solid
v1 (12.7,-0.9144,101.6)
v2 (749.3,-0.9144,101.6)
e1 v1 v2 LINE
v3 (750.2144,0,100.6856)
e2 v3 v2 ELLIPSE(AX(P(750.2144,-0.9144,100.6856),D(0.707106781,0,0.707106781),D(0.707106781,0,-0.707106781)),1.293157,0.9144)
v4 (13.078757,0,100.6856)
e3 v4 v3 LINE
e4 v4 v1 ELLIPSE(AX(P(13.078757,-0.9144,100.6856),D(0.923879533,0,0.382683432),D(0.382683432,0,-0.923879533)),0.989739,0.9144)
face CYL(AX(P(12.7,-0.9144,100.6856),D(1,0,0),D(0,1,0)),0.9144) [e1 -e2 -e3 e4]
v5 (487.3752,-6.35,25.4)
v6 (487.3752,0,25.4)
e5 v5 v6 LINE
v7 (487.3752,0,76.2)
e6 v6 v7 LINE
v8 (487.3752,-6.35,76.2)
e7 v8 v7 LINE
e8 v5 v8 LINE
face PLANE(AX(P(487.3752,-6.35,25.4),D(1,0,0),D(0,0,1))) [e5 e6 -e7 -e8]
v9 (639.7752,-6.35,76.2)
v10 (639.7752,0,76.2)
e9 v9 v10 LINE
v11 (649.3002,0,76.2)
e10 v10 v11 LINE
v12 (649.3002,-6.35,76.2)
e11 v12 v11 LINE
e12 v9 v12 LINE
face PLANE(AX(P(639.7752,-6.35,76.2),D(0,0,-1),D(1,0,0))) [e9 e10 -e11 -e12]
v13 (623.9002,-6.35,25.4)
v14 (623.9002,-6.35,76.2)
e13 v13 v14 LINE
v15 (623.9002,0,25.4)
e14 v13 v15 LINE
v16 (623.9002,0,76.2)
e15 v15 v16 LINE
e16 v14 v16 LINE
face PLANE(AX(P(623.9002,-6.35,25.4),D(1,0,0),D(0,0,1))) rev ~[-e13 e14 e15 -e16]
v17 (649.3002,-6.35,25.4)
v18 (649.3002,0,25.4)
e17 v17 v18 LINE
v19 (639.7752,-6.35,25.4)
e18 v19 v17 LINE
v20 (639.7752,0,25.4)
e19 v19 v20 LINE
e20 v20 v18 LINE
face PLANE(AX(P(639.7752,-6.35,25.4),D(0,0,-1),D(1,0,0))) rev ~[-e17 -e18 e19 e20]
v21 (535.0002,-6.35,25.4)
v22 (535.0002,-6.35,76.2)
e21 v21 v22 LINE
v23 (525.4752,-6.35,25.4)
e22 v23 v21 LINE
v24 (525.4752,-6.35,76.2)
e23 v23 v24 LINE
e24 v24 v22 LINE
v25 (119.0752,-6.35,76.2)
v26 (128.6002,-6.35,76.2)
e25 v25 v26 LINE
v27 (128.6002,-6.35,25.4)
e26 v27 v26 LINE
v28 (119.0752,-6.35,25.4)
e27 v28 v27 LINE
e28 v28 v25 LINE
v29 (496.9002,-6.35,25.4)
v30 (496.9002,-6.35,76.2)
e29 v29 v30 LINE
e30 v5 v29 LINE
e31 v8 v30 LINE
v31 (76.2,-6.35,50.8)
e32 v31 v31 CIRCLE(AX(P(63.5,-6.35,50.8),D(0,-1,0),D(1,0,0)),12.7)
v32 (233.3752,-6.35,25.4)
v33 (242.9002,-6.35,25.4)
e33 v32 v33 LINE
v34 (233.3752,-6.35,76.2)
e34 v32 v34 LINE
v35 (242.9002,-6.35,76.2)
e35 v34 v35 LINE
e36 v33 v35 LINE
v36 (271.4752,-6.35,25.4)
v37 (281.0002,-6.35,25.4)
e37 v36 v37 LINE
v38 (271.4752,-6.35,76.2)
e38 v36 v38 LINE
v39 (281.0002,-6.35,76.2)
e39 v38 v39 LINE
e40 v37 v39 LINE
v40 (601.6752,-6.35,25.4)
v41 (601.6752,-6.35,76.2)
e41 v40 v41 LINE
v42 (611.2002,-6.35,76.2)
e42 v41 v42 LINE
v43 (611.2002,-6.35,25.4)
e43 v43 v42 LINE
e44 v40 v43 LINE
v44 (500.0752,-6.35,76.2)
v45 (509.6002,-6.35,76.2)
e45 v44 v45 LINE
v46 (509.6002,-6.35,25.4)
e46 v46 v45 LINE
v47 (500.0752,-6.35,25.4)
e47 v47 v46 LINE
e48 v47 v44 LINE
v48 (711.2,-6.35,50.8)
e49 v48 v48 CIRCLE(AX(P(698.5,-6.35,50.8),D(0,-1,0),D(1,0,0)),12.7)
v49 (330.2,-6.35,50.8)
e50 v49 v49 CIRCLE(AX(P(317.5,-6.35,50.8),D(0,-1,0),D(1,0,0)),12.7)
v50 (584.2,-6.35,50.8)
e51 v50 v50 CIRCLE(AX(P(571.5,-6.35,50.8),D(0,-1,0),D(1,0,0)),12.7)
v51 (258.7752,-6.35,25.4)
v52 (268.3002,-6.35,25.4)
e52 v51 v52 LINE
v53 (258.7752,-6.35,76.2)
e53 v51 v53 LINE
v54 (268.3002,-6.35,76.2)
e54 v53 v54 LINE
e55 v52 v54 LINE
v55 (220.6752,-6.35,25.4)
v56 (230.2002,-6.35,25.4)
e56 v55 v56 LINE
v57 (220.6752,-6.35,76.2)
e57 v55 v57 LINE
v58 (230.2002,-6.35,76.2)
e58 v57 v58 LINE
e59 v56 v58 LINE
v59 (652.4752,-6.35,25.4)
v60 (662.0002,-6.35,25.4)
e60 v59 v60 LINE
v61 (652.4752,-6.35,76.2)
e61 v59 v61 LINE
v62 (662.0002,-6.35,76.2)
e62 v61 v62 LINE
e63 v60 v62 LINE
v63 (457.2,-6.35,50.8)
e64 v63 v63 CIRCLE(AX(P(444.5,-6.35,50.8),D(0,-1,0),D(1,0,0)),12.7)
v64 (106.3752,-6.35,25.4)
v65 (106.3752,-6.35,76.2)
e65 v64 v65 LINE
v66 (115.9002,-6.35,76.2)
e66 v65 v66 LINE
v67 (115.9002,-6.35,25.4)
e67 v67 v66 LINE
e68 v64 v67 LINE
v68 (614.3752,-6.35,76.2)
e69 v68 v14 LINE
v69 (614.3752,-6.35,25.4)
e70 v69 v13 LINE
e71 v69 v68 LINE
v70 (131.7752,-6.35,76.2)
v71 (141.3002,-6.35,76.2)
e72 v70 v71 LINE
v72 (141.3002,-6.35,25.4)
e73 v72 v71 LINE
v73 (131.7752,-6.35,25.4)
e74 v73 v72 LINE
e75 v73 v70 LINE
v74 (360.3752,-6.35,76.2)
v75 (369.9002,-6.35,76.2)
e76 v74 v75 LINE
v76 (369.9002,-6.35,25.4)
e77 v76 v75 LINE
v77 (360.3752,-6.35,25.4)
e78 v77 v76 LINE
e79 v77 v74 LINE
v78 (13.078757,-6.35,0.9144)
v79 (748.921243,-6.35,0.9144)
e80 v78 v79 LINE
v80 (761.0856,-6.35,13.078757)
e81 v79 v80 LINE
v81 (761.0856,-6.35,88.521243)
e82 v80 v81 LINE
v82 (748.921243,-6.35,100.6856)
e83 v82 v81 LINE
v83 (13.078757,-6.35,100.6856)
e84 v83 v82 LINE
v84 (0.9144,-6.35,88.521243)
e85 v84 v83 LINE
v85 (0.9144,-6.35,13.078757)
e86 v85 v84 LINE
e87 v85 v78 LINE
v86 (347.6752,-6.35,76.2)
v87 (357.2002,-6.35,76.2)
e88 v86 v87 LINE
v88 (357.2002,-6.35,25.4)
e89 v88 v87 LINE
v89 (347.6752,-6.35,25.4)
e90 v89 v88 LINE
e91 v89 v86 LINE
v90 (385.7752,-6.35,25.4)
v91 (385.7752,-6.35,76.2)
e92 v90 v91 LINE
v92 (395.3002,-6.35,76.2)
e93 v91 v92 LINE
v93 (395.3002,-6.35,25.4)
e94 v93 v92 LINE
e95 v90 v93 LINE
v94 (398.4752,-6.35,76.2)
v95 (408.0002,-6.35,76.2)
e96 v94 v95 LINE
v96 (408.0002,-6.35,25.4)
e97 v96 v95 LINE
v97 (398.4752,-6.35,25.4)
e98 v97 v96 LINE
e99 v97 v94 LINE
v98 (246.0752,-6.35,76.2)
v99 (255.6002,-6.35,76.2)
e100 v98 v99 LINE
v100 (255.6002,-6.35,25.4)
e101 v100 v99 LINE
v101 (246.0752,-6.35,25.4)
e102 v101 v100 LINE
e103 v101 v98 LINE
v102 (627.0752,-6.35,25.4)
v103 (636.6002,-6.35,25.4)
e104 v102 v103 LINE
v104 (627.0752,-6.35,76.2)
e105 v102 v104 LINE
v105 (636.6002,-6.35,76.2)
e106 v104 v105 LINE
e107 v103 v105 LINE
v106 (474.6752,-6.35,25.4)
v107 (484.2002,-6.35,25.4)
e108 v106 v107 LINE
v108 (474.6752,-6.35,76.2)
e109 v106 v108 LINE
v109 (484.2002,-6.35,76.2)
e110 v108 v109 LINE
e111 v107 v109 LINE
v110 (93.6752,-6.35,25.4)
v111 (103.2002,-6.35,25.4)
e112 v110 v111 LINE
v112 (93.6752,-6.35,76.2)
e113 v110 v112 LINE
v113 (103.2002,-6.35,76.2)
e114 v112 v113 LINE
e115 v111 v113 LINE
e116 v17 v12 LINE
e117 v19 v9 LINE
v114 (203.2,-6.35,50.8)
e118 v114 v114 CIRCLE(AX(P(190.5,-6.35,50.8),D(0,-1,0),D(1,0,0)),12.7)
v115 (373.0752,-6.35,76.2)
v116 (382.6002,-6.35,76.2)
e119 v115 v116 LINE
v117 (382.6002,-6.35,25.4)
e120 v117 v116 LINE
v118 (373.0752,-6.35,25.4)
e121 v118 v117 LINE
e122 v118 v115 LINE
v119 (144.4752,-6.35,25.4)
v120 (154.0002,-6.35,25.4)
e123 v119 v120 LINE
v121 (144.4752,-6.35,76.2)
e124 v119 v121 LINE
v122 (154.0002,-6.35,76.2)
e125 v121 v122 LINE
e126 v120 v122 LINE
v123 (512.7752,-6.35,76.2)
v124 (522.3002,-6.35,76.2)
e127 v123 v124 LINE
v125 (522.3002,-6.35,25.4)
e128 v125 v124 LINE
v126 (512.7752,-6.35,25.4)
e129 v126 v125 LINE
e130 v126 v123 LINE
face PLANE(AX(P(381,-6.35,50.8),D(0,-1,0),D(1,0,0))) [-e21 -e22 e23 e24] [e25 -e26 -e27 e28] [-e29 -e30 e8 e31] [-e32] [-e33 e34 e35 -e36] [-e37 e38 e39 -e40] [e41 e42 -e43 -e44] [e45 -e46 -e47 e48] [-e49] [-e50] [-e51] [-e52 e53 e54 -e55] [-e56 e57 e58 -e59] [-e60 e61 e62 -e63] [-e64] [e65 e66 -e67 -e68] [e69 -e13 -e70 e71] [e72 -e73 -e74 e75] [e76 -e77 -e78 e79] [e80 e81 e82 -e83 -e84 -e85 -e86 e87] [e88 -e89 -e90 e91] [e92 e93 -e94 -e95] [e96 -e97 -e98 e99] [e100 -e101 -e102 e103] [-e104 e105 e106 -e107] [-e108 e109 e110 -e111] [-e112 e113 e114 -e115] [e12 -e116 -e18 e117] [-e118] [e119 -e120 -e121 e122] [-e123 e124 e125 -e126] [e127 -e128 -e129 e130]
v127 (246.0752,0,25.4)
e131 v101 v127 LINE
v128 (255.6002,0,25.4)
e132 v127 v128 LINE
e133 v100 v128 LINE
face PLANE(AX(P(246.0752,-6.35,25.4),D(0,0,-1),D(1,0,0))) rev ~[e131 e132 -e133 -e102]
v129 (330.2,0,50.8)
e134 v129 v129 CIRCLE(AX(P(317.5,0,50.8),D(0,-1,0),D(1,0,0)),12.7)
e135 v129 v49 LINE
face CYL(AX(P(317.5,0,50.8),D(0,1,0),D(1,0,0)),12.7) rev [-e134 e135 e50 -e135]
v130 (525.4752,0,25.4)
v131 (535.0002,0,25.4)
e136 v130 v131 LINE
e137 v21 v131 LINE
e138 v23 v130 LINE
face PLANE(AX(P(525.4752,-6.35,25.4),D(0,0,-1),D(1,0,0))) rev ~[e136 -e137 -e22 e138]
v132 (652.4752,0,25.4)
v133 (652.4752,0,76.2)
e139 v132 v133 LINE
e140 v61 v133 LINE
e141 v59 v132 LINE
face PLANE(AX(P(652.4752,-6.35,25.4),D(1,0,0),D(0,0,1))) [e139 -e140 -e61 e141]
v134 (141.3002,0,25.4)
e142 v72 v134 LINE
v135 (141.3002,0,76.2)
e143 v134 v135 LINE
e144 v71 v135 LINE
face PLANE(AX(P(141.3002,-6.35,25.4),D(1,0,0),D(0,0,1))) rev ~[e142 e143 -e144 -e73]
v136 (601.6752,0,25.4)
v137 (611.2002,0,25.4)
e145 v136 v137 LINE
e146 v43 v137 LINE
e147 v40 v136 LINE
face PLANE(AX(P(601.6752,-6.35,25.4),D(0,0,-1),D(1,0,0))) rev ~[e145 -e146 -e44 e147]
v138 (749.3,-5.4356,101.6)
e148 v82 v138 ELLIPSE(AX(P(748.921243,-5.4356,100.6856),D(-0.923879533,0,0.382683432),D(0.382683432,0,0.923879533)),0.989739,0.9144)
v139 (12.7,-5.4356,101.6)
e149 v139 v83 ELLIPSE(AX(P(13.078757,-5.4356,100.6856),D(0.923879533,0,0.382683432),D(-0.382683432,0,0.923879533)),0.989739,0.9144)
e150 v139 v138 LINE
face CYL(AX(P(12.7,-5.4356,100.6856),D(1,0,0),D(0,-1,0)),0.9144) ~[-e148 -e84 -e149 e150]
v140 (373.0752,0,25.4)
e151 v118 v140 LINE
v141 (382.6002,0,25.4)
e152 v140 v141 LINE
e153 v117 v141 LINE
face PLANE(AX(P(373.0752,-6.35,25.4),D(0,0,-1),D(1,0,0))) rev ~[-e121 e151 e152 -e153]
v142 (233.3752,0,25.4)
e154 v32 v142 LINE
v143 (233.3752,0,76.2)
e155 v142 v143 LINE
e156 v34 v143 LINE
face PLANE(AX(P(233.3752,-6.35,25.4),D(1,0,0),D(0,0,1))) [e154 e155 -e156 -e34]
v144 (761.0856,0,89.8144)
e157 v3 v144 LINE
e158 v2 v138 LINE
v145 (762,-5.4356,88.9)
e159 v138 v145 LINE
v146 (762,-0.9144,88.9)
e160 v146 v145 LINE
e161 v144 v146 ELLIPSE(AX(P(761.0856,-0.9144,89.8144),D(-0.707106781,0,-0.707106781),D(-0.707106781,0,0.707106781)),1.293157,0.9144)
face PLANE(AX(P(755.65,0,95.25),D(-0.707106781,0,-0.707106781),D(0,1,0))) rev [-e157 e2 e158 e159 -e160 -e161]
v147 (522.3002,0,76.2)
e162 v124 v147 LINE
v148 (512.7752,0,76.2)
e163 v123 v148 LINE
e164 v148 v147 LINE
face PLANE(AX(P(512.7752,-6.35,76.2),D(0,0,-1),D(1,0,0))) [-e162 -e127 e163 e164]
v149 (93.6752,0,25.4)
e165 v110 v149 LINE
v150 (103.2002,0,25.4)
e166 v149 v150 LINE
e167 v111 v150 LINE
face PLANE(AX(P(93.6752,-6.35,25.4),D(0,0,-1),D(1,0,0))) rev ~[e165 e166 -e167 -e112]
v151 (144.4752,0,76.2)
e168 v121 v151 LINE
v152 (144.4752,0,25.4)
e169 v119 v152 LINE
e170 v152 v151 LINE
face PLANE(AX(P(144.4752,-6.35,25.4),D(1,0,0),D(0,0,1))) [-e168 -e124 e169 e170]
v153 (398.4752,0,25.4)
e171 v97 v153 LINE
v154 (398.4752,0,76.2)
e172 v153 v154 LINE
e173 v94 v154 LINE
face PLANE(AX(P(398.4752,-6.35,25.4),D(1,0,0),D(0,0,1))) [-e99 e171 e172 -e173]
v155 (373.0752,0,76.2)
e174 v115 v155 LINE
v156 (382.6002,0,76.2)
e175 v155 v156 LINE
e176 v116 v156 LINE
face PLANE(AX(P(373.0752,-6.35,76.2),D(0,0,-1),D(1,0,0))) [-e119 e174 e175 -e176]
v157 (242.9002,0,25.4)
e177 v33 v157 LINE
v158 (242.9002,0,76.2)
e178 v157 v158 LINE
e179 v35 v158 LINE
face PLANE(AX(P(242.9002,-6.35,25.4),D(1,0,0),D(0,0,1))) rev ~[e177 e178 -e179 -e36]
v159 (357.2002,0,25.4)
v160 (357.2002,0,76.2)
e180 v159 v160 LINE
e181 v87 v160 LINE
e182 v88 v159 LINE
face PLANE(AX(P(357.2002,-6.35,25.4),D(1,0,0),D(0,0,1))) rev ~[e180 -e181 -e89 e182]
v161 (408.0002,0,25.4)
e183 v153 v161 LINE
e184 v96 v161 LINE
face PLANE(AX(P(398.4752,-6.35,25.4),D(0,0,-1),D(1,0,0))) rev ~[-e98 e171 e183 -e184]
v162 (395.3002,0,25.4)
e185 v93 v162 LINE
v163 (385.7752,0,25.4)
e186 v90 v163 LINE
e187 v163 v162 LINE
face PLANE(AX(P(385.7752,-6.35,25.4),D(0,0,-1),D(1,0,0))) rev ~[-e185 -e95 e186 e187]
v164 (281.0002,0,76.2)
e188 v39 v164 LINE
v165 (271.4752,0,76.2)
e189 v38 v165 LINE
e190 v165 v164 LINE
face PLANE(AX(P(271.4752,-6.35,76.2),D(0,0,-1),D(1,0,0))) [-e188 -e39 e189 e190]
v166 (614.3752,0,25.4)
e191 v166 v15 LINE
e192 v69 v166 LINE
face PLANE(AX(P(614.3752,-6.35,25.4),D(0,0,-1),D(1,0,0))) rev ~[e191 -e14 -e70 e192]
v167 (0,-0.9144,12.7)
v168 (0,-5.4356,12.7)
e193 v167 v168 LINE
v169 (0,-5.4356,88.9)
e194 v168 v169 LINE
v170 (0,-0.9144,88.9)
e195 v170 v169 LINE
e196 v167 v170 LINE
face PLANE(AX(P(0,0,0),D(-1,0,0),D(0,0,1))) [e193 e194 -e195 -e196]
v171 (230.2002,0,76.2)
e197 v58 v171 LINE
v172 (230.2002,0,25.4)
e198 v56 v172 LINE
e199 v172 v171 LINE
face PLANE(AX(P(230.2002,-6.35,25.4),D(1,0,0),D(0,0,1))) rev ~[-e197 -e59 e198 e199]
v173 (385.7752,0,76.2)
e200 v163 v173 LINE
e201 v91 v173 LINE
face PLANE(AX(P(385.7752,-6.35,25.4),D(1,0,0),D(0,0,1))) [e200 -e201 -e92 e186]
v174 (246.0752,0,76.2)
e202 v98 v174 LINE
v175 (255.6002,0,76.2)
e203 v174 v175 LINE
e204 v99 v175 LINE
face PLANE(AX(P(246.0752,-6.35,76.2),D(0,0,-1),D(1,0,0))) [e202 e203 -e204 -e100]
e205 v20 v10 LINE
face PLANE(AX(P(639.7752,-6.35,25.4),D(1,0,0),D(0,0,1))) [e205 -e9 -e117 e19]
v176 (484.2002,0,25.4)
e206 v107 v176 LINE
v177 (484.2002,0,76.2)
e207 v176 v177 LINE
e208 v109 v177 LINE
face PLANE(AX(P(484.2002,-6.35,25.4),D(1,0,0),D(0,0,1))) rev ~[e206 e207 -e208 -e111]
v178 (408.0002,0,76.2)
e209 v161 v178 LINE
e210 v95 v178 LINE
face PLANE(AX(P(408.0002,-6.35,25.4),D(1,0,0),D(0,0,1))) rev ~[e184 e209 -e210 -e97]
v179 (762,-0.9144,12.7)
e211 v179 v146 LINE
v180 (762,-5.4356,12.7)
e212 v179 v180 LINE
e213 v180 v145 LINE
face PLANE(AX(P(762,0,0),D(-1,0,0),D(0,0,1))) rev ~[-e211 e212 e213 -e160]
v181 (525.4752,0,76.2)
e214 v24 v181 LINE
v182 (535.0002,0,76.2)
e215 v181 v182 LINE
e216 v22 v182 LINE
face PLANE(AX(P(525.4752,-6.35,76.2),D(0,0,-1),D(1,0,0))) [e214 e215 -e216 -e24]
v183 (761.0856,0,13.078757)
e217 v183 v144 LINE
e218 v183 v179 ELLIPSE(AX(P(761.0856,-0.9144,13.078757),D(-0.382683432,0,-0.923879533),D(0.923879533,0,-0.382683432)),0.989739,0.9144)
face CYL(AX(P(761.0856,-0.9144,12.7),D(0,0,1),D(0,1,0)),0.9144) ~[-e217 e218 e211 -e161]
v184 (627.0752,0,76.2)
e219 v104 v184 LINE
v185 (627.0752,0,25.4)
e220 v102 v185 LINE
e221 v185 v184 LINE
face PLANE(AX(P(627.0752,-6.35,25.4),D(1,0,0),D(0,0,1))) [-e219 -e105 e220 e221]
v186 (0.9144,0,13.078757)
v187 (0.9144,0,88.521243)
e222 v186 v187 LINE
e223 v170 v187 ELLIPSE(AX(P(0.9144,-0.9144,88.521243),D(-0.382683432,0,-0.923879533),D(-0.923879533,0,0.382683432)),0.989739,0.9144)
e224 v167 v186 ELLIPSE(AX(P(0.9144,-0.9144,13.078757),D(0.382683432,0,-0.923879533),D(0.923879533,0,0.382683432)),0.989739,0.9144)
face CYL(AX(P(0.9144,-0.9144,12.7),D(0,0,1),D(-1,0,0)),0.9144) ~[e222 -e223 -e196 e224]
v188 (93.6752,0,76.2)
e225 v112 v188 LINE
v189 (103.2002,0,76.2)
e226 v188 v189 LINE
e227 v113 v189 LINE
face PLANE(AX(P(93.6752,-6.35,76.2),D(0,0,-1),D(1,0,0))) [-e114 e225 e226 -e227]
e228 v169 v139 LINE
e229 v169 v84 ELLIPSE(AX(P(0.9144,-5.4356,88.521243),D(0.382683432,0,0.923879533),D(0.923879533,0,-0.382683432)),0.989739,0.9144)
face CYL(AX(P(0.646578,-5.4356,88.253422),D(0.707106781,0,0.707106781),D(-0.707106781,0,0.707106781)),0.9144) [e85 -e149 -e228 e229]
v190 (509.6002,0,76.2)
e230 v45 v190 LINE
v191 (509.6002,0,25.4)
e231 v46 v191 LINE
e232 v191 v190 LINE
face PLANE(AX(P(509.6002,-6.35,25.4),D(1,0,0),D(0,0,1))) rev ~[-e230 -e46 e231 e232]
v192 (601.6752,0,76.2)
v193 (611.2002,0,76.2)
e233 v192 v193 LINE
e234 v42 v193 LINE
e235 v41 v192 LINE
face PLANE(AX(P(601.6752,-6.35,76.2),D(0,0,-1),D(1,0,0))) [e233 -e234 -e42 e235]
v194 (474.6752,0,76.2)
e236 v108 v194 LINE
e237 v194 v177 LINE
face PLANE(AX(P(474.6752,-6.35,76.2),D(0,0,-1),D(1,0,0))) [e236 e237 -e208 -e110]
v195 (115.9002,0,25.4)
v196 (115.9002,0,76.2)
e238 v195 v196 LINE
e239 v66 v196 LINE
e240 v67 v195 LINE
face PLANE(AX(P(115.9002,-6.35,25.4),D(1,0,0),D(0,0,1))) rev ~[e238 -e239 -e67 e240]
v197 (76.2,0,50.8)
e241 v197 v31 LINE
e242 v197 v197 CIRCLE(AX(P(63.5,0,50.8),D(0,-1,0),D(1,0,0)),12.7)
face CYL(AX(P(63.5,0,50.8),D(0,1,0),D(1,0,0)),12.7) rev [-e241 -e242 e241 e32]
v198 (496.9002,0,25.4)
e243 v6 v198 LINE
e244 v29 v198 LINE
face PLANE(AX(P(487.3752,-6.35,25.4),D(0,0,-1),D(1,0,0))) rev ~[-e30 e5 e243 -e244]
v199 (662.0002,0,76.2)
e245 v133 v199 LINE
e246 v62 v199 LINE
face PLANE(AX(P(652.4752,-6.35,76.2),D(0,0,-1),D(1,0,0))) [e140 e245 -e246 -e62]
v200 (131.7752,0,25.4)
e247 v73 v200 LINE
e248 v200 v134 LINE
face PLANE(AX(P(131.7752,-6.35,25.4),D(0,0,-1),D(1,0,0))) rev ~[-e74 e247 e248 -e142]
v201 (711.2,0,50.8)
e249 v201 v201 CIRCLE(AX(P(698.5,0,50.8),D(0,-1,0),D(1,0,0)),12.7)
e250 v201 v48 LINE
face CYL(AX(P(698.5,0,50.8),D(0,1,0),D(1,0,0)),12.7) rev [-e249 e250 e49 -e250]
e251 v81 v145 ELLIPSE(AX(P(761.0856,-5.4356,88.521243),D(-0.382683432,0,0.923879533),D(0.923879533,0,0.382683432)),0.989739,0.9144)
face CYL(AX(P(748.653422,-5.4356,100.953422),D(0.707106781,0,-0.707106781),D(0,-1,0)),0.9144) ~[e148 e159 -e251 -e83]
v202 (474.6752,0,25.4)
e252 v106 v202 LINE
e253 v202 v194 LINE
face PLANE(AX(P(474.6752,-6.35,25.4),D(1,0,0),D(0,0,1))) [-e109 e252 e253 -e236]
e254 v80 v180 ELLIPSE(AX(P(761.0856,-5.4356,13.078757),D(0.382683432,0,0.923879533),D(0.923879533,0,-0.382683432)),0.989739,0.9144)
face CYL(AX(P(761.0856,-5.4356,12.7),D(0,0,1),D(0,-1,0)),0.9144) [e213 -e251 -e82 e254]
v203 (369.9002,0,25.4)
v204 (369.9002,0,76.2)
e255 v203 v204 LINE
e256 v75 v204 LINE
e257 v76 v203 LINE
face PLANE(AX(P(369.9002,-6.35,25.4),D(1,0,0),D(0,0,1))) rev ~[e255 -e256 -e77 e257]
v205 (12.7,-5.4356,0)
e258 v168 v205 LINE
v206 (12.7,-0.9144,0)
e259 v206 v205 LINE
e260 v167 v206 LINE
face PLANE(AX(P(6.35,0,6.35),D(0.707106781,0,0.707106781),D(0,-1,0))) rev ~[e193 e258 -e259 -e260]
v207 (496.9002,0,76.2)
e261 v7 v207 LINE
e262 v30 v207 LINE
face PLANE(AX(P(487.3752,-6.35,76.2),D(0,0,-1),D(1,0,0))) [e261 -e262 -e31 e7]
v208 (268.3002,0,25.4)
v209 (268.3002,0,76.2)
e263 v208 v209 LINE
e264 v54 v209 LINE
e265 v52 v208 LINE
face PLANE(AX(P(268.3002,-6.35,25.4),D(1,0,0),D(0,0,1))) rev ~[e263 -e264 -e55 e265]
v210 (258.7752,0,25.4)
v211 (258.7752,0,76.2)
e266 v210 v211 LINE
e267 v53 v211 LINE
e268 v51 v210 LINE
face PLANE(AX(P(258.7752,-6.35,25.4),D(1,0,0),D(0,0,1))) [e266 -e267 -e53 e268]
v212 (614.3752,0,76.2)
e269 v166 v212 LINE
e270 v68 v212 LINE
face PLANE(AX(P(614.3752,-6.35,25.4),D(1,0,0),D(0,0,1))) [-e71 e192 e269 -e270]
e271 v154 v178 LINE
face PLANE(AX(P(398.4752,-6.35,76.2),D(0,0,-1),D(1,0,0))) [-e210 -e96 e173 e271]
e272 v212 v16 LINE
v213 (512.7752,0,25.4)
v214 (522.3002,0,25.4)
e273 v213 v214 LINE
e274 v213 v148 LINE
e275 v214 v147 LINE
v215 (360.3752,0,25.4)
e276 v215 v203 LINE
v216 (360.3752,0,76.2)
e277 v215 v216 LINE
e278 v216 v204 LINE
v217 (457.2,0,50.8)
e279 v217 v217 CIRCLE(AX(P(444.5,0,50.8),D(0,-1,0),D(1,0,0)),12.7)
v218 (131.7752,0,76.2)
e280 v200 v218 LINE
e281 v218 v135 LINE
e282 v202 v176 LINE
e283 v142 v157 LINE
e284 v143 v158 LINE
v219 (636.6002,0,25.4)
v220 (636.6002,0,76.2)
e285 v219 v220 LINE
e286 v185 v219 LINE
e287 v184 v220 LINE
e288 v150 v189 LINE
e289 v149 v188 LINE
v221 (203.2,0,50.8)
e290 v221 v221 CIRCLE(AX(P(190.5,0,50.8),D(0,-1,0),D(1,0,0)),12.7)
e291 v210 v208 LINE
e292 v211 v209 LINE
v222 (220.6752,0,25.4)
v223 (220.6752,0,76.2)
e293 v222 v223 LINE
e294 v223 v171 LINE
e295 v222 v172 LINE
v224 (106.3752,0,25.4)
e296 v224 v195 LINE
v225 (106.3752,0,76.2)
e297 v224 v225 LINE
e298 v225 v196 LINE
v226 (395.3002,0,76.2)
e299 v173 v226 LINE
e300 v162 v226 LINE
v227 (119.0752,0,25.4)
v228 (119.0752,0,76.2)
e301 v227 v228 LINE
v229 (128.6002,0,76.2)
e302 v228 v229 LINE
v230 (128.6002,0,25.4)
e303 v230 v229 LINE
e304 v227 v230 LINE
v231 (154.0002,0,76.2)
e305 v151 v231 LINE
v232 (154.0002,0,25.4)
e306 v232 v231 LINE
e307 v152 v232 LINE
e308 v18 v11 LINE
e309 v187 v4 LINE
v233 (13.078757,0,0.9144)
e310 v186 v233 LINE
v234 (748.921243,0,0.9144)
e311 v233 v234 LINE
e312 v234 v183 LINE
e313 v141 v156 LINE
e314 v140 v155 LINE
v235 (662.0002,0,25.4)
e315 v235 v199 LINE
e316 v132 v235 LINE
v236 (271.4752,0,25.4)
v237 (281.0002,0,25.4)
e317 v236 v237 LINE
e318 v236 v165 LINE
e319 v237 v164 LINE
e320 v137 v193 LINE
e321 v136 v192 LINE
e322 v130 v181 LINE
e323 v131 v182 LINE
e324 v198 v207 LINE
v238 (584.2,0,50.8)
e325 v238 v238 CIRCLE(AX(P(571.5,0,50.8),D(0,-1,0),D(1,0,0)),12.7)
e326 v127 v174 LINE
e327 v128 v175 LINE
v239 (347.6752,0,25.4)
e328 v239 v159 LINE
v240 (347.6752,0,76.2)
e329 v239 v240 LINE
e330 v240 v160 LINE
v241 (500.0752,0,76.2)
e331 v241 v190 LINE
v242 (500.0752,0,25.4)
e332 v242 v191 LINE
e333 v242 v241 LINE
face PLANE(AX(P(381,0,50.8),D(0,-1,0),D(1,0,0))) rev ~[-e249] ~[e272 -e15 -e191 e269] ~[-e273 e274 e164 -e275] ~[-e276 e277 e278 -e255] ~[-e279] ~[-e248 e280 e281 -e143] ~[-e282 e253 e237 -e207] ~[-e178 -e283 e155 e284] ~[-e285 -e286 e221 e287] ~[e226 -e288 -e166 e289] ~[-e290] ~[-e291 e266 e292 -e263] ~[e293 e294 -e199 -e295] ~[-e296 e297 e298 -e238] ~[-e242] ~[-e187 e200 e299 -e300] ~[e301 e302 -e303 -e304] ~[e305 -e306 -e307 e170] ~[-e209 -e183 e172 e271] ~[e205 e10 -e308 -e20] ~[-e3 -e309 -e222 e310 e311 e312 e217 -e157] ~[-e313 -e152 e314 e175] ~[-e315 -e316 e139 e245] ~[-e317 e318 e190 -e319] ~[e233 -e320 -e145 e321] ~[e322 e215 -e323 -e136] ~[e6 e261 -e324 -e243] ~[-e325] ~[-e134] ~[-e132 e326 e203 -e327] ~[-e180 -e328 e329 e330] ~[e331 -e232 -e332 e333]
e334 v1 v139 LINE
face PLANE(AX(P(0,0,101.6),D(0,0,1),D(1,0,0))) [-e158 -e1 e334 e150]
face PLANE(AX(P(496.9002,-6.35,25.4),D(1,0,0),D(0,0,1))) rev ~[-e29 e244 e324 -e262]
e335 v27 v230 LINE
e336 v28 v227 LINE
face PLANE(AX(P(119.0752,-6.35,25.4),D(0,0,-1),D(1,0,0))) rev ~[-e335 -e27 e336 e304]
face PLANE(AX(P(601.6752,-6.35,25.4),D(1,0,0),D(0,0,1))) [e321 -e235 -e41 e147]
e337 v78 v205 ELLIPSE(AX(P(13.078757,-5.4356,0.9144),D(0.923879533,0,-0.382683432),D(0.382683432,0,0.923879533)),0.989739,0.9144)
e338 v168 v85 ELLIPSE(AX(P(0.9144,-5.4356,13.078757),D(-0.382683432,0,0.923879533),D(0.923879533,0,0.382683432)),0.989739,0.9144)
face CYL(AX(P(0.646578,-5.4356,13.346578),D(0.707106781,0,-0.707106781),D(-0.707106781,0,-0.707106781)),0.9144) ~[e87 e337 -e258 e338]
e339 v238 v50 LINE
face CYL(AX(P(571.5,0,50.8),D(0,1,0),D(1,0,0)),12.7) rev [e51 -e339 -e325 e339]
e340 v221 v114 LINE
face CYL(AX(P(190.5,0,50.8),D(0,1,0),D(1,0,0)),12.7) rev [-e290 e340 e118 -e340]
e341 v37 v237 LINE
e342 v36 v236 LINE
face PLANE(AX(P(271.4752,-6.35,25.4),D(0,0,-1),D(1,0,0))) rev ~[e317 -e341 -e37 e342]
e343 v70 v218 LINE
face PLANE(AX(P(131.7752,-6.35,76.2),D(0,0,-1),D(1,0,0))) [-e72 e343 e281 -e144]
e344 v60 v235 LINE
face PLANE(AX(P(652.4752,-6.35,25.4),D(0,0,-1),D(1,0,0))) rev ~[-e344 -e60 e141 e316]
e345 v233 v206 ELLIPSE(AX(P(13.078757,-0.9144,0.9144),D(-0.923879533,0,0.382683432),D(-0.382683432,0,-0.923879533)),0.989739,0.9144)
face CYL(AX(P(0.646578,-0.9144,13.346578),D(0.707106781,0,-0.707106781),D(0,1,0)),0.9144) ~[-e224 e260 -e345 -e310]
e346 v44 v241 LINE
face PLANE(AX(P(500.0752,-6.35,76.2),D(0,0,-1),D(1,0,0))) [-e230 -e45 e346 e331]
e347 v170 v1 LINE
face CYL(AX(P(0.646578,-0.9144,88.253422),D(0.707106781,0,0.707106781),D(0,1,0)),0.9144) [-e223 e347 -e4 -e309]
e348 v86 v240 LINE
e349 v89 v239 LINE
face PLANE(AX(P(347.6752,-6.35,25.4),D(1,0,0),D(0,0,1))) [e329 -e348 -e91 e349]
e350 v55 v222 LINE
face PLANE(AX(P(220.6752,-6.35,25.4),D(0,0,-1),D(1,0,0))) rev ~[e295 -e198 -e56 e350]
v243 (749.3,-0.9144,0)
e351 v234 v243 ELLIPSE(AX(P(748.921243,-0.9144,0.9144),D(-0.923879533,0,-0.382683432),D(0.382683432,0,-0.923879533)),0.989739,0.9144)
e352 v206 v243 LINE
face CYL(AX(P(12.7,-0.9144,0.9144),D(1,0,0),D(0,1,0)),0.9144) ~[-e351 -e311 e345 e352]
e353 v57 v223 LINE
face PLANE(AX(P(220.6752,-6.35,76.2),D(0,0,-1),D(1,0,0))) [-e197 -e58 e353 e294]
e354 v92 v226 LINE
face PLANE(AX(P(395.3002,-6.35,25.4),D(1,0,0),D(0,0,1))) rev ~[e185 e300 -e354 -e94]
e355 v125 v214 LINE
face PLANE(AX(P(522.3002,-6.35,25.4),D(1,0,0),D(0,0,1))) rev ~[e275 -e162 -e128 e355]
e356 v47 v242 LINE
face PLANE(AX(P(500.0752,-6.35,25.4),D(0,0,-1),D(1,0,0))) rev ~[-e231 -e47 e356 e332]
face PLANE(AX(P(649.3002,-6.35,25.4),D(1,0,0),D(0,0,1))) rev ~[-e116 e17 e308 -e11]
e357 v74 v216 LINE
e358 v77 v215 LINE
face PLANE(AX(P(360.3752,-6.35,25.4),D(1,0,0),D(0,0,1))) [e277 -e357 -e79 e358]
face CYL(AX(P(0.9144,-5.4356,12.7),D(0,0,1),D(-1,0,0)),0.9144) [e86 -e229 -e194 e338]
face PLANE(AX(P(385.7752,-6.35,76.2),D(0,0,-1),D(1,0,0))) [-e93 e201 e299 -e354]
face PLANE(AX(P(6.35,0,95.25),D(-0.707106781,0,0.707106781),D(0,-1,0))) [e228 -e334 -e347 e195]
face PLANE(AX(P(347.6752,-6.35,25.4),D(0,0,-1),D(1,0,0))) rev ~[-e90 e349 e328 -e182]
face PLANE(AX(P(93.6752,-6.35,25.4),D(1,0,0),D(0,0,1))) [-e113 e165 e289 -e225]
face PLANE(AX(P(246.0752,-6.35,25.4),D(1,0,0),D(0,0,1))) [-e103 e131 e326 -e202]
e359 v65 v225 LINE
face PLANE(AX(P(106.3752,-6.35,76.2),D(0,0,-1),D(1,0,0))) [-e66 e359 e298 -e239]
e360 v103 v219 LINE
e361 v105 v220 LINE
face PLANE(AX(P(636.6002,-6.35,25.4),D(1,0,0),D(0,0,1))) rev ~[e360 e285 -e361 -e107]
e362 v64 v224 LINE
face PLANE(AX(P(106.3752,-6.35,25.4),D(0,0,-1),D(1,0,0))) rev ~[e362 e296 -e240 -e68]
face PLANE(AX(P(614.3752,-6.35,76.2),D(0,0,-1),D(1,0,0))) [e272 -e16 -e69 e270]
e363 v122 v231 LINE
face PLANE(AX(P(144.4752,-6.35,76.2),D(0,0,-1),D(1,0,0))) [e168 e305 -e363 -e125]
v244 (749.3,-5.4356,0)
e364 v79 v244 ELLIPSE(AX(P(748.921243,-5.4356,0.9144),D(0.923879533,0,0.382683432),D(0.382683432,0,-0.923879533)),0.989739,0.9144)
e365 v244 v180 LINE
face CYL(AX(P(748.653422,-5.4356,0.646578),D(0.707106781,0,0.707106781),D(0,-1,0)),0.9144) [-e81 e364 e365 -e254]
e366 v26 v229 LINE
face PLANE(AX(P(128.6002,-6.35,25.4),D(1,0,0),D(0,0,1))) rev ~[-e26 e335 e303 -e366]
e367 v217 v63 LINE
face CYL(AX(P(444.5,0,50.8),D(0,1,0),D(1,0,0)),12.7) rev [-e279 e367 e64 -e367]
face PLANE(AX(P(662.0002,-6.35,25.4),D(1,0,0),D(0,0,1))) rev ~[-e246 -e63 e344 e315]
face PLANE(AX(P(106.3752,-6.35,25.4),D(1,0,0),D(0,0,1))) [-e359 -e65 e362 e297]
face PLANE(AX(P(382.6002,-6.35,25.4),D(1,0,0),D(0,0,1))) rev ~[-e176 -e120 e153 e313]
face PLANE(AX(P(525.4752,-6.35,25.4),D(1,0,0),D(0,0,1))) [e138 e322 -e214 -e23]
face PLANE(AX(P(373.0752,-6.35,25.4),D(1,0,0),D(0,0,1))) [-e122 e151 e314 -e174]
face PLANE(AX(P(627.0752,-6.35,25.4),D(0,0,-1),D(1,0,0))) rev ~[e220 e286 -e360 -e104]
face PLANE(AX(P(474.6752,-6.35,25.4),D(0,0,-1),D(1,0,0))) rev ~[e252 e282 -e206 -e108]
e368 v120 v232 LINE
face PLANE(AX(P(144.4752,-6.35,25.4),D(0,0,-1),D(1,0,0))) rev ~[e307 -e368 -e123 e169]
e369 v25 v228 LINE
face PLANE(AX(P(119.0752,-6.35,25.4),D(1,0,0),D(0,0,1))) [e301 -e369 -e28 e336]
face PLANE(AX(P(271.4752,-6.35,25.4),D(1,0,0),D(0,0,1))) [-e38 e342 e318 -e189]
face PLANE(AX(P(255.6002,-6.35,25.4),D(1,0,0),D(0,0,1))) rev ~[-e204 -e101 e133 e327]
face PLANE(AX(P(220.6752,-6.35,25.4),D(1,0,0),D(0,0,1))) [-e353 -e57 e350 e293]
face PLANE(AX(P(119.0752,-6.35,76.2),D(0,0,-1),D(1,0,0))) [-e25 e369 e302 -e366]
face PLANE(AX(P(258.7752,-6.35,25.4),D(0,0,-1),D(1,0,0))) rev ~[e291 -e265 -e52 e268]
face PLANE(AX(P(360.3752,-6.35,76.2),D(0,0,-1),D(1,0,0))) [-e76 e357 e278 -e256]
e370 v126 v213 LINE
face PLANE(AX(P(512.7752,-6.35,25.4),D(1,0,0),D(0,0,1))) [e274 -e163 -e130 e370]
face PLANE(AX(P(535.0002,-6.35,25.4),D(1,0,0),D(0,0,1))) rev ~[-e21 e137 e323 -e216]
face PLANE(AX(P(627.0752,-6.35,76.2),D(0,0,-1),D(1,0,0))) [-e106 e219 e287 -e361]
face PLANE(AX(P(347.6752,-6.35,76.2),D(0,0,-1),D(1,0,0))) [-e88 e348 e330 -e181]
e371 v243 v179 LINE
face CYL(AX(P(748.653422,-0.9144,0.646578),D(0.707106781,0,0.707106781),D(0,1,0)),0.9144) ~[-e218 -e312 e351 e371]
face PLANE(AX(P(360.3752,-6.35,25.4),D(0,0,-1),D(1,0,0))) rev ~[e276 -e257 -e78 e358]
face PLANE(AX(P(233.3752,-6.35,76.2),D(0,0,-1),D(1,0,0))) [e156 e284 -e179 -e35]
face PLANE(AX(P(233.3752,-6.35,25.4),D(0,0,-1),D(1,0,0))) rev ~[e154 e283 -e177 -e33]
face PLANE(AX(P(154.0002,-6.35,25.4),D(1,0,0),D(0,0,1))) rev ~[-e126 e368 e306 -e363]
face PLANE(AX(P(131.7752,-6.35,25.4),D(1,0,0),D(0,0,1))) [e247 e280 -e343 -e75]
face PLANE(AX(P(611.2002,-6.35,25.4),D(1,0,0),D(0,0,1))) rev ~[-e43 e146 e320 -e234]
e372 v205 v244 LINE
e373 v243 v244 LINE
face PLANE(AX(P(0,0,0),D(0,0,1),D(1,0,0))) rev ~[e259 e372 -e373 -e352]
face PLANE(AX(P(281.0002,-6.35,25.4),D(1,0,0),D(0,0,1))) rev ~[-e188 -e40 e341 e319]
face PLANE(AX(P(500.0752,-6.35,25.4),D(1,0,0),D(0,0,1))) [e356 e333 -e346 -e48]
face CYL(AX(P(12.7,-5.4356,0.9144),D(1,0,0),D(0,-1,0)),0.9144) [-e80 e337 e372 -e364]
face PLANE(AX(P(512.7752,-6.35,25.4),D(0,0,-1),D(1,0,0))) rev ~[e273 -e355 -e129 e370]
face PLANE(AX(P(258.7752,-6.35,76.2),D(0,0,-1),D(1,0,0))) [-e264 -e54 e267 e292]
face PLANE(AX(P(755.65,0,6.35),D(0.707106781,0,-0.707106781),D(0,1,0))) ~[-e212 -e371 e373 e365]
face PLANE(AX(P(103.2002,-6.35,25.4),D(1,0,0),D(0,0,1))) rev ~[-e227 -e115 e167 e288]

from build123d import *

# Parameters (mm, degrees)
F0_W     = 762
F0_H     = 101.6
F0_R     = 12.7
F1_DEPTH = 6.35
F2_W     = 9.525
F2_H     = 50.8
F3_DEPTH = 25.4
F4_SIZE  = 12.7
F5_R     = 0.9144


with BuildPart() as f1:
    # F0 (on Front) → F1 (new body)
    with BuildSketch(Plane.XZ):
        with Locations((381, 50.8)):
            Rectangle(F0_W, F0_H)
        with Locations((63.5, 50.8)):
            Circle(F0_R, mode=Mode.SUBTRACT)
        with Locations((190.5, 50.8)):
            Circle(F0_R, mode=Mode.SUBTRACT)
        with Locations((317.5, 50.8)):
            Circle(F0_R, mode=Mode.SUBTRACT)
        with Locations((444.5, 50.8)):
            Circle(F0_R, mode=Mode.SUBTRACT)
        with Locations((571.5, 50.8)):
            Circle(F0_R, mode=Mode.SUBTRACT)
        with Locations((698.5, 50.8)):
            Circle(F0_R, mode=Mode.SUBTRACT)
    extrude(amount=F1_DEPTH)

    # F2 (on face) → F3 (cut)
    with BuildSketch(Plane.XZ.offset(6.35)):
        with Locations((98.4377, 50.8)):
            Rectangle(F2_W, F2_H)
        with Locations((111.1377, 50.8)):
            Rectangle(F2_W, F2_H)
        with Locations((123.8377, 50.8)):
            Rectangle(F2_W, F2_H)
        with Locations((136.5377, 50.8)):
            Rectangle(F2_W, F2_H)
        with Locations((149.2377, 50.8)):
            Rectangle(F2_W, F2_H)
        with Locations((225.4377, 50.8)):
            Rectangle(F2_W, F2_H)
        with Locations((238.1377, 50.8)):
            Rectangle(F2_W, F2_H)
        with Locations((250.8377, 50.8)):
            Rectangle(F2_W, F2_H)
        with Locations((263.5377, 50.8)):
            Rectangle(F2_W, F2_H)
        with Locations((276.2377, 50.8)):
            Rectangle(F2_W, F2_H)
        with Locations((352.4377, 50.8)):
            Rectangle(F2_W, F2_H)
        with Locations((365.1377, 50.8)):
            Rectangle(F2_W, F2_H)
        with Locations((377.8377, 50.8)):
            Rectangle(F2_W, F2_H)
        with Locations((390.5377, 50.8)):
            Rectangle(F2_W, F2_H)
        with Locations((403.2377, 50.8)):
            Rectangle(F2_W, F2_H)
        with Locations((479.4377, 50.8)):
            Rectangle(F2_W, F2_H)
        with Locations((492.1377, 50.8)):
            Rectangle(F2_W, F2_H)
        with Locations((504.8377, 50.8)):
            Rectangle(F2_W, F2_H)
        with Locations((517.5377, 50.8)):
            Rectangle(F2_W, F2_H)
        with Locations((530.2377, 50.8)):
            Rectangle(F2_W, F2_H)
        with Locations((606.4377, 50.8)):
            Rectangle(F2_W, F2_H)
        with Locations((619.1377, 50.8)):
            Rectangle(F2_W, F2_H)
        with Locations((631.8377, 50.8)):
            Rectangle(F2_W, F2_H)
        with Locations((644.5377, 50.8)):
            Rectangle(F2_W, F2_H)
        with Locations((657.2377, 50.8)):
            Rectangle(F2_W, F2_H)
    extrude(amount=-F3_DEPTH, mode=Mode.SUBTRACT)

    # F4
    f4_edges = [f1.edges().sort_by_distance(p)[0] for p in [
        (762, -3.175, 101.6),
        (762, -3.175, 0),
        (0, -3.175, 0),
        (0, -3.175, 101.6),
    ]]
    chamfer(f4_edges, length=F4_SIZE)

    # F5
    f5_edges = [f1.edges().sort_by_distance(p)[0] for p in [
        (6.35, -6.35, 95.25),
        (381, -6.35, 101.6),
        (0, 0, 50.8),
        (381, -6.35, 0),
        (6.35, -6.35, 6.35),
        (755.65, -6.35, 95.25),
        (755.65, -6.35, 6.35),
        (762, -6.35, 50.8),
        (381, 0, 101.6),
        (6.35, 0, 95.25),
        (0, -6.35, 50.8),
        (6.35, 0, 6.35),
        (381, 0, 0),
        (755.65, 0, 6.35),
        (762, 0, 50.8),
    ]]
    fillet(f5_edges, radius=F5_R)


solid = f1.part
